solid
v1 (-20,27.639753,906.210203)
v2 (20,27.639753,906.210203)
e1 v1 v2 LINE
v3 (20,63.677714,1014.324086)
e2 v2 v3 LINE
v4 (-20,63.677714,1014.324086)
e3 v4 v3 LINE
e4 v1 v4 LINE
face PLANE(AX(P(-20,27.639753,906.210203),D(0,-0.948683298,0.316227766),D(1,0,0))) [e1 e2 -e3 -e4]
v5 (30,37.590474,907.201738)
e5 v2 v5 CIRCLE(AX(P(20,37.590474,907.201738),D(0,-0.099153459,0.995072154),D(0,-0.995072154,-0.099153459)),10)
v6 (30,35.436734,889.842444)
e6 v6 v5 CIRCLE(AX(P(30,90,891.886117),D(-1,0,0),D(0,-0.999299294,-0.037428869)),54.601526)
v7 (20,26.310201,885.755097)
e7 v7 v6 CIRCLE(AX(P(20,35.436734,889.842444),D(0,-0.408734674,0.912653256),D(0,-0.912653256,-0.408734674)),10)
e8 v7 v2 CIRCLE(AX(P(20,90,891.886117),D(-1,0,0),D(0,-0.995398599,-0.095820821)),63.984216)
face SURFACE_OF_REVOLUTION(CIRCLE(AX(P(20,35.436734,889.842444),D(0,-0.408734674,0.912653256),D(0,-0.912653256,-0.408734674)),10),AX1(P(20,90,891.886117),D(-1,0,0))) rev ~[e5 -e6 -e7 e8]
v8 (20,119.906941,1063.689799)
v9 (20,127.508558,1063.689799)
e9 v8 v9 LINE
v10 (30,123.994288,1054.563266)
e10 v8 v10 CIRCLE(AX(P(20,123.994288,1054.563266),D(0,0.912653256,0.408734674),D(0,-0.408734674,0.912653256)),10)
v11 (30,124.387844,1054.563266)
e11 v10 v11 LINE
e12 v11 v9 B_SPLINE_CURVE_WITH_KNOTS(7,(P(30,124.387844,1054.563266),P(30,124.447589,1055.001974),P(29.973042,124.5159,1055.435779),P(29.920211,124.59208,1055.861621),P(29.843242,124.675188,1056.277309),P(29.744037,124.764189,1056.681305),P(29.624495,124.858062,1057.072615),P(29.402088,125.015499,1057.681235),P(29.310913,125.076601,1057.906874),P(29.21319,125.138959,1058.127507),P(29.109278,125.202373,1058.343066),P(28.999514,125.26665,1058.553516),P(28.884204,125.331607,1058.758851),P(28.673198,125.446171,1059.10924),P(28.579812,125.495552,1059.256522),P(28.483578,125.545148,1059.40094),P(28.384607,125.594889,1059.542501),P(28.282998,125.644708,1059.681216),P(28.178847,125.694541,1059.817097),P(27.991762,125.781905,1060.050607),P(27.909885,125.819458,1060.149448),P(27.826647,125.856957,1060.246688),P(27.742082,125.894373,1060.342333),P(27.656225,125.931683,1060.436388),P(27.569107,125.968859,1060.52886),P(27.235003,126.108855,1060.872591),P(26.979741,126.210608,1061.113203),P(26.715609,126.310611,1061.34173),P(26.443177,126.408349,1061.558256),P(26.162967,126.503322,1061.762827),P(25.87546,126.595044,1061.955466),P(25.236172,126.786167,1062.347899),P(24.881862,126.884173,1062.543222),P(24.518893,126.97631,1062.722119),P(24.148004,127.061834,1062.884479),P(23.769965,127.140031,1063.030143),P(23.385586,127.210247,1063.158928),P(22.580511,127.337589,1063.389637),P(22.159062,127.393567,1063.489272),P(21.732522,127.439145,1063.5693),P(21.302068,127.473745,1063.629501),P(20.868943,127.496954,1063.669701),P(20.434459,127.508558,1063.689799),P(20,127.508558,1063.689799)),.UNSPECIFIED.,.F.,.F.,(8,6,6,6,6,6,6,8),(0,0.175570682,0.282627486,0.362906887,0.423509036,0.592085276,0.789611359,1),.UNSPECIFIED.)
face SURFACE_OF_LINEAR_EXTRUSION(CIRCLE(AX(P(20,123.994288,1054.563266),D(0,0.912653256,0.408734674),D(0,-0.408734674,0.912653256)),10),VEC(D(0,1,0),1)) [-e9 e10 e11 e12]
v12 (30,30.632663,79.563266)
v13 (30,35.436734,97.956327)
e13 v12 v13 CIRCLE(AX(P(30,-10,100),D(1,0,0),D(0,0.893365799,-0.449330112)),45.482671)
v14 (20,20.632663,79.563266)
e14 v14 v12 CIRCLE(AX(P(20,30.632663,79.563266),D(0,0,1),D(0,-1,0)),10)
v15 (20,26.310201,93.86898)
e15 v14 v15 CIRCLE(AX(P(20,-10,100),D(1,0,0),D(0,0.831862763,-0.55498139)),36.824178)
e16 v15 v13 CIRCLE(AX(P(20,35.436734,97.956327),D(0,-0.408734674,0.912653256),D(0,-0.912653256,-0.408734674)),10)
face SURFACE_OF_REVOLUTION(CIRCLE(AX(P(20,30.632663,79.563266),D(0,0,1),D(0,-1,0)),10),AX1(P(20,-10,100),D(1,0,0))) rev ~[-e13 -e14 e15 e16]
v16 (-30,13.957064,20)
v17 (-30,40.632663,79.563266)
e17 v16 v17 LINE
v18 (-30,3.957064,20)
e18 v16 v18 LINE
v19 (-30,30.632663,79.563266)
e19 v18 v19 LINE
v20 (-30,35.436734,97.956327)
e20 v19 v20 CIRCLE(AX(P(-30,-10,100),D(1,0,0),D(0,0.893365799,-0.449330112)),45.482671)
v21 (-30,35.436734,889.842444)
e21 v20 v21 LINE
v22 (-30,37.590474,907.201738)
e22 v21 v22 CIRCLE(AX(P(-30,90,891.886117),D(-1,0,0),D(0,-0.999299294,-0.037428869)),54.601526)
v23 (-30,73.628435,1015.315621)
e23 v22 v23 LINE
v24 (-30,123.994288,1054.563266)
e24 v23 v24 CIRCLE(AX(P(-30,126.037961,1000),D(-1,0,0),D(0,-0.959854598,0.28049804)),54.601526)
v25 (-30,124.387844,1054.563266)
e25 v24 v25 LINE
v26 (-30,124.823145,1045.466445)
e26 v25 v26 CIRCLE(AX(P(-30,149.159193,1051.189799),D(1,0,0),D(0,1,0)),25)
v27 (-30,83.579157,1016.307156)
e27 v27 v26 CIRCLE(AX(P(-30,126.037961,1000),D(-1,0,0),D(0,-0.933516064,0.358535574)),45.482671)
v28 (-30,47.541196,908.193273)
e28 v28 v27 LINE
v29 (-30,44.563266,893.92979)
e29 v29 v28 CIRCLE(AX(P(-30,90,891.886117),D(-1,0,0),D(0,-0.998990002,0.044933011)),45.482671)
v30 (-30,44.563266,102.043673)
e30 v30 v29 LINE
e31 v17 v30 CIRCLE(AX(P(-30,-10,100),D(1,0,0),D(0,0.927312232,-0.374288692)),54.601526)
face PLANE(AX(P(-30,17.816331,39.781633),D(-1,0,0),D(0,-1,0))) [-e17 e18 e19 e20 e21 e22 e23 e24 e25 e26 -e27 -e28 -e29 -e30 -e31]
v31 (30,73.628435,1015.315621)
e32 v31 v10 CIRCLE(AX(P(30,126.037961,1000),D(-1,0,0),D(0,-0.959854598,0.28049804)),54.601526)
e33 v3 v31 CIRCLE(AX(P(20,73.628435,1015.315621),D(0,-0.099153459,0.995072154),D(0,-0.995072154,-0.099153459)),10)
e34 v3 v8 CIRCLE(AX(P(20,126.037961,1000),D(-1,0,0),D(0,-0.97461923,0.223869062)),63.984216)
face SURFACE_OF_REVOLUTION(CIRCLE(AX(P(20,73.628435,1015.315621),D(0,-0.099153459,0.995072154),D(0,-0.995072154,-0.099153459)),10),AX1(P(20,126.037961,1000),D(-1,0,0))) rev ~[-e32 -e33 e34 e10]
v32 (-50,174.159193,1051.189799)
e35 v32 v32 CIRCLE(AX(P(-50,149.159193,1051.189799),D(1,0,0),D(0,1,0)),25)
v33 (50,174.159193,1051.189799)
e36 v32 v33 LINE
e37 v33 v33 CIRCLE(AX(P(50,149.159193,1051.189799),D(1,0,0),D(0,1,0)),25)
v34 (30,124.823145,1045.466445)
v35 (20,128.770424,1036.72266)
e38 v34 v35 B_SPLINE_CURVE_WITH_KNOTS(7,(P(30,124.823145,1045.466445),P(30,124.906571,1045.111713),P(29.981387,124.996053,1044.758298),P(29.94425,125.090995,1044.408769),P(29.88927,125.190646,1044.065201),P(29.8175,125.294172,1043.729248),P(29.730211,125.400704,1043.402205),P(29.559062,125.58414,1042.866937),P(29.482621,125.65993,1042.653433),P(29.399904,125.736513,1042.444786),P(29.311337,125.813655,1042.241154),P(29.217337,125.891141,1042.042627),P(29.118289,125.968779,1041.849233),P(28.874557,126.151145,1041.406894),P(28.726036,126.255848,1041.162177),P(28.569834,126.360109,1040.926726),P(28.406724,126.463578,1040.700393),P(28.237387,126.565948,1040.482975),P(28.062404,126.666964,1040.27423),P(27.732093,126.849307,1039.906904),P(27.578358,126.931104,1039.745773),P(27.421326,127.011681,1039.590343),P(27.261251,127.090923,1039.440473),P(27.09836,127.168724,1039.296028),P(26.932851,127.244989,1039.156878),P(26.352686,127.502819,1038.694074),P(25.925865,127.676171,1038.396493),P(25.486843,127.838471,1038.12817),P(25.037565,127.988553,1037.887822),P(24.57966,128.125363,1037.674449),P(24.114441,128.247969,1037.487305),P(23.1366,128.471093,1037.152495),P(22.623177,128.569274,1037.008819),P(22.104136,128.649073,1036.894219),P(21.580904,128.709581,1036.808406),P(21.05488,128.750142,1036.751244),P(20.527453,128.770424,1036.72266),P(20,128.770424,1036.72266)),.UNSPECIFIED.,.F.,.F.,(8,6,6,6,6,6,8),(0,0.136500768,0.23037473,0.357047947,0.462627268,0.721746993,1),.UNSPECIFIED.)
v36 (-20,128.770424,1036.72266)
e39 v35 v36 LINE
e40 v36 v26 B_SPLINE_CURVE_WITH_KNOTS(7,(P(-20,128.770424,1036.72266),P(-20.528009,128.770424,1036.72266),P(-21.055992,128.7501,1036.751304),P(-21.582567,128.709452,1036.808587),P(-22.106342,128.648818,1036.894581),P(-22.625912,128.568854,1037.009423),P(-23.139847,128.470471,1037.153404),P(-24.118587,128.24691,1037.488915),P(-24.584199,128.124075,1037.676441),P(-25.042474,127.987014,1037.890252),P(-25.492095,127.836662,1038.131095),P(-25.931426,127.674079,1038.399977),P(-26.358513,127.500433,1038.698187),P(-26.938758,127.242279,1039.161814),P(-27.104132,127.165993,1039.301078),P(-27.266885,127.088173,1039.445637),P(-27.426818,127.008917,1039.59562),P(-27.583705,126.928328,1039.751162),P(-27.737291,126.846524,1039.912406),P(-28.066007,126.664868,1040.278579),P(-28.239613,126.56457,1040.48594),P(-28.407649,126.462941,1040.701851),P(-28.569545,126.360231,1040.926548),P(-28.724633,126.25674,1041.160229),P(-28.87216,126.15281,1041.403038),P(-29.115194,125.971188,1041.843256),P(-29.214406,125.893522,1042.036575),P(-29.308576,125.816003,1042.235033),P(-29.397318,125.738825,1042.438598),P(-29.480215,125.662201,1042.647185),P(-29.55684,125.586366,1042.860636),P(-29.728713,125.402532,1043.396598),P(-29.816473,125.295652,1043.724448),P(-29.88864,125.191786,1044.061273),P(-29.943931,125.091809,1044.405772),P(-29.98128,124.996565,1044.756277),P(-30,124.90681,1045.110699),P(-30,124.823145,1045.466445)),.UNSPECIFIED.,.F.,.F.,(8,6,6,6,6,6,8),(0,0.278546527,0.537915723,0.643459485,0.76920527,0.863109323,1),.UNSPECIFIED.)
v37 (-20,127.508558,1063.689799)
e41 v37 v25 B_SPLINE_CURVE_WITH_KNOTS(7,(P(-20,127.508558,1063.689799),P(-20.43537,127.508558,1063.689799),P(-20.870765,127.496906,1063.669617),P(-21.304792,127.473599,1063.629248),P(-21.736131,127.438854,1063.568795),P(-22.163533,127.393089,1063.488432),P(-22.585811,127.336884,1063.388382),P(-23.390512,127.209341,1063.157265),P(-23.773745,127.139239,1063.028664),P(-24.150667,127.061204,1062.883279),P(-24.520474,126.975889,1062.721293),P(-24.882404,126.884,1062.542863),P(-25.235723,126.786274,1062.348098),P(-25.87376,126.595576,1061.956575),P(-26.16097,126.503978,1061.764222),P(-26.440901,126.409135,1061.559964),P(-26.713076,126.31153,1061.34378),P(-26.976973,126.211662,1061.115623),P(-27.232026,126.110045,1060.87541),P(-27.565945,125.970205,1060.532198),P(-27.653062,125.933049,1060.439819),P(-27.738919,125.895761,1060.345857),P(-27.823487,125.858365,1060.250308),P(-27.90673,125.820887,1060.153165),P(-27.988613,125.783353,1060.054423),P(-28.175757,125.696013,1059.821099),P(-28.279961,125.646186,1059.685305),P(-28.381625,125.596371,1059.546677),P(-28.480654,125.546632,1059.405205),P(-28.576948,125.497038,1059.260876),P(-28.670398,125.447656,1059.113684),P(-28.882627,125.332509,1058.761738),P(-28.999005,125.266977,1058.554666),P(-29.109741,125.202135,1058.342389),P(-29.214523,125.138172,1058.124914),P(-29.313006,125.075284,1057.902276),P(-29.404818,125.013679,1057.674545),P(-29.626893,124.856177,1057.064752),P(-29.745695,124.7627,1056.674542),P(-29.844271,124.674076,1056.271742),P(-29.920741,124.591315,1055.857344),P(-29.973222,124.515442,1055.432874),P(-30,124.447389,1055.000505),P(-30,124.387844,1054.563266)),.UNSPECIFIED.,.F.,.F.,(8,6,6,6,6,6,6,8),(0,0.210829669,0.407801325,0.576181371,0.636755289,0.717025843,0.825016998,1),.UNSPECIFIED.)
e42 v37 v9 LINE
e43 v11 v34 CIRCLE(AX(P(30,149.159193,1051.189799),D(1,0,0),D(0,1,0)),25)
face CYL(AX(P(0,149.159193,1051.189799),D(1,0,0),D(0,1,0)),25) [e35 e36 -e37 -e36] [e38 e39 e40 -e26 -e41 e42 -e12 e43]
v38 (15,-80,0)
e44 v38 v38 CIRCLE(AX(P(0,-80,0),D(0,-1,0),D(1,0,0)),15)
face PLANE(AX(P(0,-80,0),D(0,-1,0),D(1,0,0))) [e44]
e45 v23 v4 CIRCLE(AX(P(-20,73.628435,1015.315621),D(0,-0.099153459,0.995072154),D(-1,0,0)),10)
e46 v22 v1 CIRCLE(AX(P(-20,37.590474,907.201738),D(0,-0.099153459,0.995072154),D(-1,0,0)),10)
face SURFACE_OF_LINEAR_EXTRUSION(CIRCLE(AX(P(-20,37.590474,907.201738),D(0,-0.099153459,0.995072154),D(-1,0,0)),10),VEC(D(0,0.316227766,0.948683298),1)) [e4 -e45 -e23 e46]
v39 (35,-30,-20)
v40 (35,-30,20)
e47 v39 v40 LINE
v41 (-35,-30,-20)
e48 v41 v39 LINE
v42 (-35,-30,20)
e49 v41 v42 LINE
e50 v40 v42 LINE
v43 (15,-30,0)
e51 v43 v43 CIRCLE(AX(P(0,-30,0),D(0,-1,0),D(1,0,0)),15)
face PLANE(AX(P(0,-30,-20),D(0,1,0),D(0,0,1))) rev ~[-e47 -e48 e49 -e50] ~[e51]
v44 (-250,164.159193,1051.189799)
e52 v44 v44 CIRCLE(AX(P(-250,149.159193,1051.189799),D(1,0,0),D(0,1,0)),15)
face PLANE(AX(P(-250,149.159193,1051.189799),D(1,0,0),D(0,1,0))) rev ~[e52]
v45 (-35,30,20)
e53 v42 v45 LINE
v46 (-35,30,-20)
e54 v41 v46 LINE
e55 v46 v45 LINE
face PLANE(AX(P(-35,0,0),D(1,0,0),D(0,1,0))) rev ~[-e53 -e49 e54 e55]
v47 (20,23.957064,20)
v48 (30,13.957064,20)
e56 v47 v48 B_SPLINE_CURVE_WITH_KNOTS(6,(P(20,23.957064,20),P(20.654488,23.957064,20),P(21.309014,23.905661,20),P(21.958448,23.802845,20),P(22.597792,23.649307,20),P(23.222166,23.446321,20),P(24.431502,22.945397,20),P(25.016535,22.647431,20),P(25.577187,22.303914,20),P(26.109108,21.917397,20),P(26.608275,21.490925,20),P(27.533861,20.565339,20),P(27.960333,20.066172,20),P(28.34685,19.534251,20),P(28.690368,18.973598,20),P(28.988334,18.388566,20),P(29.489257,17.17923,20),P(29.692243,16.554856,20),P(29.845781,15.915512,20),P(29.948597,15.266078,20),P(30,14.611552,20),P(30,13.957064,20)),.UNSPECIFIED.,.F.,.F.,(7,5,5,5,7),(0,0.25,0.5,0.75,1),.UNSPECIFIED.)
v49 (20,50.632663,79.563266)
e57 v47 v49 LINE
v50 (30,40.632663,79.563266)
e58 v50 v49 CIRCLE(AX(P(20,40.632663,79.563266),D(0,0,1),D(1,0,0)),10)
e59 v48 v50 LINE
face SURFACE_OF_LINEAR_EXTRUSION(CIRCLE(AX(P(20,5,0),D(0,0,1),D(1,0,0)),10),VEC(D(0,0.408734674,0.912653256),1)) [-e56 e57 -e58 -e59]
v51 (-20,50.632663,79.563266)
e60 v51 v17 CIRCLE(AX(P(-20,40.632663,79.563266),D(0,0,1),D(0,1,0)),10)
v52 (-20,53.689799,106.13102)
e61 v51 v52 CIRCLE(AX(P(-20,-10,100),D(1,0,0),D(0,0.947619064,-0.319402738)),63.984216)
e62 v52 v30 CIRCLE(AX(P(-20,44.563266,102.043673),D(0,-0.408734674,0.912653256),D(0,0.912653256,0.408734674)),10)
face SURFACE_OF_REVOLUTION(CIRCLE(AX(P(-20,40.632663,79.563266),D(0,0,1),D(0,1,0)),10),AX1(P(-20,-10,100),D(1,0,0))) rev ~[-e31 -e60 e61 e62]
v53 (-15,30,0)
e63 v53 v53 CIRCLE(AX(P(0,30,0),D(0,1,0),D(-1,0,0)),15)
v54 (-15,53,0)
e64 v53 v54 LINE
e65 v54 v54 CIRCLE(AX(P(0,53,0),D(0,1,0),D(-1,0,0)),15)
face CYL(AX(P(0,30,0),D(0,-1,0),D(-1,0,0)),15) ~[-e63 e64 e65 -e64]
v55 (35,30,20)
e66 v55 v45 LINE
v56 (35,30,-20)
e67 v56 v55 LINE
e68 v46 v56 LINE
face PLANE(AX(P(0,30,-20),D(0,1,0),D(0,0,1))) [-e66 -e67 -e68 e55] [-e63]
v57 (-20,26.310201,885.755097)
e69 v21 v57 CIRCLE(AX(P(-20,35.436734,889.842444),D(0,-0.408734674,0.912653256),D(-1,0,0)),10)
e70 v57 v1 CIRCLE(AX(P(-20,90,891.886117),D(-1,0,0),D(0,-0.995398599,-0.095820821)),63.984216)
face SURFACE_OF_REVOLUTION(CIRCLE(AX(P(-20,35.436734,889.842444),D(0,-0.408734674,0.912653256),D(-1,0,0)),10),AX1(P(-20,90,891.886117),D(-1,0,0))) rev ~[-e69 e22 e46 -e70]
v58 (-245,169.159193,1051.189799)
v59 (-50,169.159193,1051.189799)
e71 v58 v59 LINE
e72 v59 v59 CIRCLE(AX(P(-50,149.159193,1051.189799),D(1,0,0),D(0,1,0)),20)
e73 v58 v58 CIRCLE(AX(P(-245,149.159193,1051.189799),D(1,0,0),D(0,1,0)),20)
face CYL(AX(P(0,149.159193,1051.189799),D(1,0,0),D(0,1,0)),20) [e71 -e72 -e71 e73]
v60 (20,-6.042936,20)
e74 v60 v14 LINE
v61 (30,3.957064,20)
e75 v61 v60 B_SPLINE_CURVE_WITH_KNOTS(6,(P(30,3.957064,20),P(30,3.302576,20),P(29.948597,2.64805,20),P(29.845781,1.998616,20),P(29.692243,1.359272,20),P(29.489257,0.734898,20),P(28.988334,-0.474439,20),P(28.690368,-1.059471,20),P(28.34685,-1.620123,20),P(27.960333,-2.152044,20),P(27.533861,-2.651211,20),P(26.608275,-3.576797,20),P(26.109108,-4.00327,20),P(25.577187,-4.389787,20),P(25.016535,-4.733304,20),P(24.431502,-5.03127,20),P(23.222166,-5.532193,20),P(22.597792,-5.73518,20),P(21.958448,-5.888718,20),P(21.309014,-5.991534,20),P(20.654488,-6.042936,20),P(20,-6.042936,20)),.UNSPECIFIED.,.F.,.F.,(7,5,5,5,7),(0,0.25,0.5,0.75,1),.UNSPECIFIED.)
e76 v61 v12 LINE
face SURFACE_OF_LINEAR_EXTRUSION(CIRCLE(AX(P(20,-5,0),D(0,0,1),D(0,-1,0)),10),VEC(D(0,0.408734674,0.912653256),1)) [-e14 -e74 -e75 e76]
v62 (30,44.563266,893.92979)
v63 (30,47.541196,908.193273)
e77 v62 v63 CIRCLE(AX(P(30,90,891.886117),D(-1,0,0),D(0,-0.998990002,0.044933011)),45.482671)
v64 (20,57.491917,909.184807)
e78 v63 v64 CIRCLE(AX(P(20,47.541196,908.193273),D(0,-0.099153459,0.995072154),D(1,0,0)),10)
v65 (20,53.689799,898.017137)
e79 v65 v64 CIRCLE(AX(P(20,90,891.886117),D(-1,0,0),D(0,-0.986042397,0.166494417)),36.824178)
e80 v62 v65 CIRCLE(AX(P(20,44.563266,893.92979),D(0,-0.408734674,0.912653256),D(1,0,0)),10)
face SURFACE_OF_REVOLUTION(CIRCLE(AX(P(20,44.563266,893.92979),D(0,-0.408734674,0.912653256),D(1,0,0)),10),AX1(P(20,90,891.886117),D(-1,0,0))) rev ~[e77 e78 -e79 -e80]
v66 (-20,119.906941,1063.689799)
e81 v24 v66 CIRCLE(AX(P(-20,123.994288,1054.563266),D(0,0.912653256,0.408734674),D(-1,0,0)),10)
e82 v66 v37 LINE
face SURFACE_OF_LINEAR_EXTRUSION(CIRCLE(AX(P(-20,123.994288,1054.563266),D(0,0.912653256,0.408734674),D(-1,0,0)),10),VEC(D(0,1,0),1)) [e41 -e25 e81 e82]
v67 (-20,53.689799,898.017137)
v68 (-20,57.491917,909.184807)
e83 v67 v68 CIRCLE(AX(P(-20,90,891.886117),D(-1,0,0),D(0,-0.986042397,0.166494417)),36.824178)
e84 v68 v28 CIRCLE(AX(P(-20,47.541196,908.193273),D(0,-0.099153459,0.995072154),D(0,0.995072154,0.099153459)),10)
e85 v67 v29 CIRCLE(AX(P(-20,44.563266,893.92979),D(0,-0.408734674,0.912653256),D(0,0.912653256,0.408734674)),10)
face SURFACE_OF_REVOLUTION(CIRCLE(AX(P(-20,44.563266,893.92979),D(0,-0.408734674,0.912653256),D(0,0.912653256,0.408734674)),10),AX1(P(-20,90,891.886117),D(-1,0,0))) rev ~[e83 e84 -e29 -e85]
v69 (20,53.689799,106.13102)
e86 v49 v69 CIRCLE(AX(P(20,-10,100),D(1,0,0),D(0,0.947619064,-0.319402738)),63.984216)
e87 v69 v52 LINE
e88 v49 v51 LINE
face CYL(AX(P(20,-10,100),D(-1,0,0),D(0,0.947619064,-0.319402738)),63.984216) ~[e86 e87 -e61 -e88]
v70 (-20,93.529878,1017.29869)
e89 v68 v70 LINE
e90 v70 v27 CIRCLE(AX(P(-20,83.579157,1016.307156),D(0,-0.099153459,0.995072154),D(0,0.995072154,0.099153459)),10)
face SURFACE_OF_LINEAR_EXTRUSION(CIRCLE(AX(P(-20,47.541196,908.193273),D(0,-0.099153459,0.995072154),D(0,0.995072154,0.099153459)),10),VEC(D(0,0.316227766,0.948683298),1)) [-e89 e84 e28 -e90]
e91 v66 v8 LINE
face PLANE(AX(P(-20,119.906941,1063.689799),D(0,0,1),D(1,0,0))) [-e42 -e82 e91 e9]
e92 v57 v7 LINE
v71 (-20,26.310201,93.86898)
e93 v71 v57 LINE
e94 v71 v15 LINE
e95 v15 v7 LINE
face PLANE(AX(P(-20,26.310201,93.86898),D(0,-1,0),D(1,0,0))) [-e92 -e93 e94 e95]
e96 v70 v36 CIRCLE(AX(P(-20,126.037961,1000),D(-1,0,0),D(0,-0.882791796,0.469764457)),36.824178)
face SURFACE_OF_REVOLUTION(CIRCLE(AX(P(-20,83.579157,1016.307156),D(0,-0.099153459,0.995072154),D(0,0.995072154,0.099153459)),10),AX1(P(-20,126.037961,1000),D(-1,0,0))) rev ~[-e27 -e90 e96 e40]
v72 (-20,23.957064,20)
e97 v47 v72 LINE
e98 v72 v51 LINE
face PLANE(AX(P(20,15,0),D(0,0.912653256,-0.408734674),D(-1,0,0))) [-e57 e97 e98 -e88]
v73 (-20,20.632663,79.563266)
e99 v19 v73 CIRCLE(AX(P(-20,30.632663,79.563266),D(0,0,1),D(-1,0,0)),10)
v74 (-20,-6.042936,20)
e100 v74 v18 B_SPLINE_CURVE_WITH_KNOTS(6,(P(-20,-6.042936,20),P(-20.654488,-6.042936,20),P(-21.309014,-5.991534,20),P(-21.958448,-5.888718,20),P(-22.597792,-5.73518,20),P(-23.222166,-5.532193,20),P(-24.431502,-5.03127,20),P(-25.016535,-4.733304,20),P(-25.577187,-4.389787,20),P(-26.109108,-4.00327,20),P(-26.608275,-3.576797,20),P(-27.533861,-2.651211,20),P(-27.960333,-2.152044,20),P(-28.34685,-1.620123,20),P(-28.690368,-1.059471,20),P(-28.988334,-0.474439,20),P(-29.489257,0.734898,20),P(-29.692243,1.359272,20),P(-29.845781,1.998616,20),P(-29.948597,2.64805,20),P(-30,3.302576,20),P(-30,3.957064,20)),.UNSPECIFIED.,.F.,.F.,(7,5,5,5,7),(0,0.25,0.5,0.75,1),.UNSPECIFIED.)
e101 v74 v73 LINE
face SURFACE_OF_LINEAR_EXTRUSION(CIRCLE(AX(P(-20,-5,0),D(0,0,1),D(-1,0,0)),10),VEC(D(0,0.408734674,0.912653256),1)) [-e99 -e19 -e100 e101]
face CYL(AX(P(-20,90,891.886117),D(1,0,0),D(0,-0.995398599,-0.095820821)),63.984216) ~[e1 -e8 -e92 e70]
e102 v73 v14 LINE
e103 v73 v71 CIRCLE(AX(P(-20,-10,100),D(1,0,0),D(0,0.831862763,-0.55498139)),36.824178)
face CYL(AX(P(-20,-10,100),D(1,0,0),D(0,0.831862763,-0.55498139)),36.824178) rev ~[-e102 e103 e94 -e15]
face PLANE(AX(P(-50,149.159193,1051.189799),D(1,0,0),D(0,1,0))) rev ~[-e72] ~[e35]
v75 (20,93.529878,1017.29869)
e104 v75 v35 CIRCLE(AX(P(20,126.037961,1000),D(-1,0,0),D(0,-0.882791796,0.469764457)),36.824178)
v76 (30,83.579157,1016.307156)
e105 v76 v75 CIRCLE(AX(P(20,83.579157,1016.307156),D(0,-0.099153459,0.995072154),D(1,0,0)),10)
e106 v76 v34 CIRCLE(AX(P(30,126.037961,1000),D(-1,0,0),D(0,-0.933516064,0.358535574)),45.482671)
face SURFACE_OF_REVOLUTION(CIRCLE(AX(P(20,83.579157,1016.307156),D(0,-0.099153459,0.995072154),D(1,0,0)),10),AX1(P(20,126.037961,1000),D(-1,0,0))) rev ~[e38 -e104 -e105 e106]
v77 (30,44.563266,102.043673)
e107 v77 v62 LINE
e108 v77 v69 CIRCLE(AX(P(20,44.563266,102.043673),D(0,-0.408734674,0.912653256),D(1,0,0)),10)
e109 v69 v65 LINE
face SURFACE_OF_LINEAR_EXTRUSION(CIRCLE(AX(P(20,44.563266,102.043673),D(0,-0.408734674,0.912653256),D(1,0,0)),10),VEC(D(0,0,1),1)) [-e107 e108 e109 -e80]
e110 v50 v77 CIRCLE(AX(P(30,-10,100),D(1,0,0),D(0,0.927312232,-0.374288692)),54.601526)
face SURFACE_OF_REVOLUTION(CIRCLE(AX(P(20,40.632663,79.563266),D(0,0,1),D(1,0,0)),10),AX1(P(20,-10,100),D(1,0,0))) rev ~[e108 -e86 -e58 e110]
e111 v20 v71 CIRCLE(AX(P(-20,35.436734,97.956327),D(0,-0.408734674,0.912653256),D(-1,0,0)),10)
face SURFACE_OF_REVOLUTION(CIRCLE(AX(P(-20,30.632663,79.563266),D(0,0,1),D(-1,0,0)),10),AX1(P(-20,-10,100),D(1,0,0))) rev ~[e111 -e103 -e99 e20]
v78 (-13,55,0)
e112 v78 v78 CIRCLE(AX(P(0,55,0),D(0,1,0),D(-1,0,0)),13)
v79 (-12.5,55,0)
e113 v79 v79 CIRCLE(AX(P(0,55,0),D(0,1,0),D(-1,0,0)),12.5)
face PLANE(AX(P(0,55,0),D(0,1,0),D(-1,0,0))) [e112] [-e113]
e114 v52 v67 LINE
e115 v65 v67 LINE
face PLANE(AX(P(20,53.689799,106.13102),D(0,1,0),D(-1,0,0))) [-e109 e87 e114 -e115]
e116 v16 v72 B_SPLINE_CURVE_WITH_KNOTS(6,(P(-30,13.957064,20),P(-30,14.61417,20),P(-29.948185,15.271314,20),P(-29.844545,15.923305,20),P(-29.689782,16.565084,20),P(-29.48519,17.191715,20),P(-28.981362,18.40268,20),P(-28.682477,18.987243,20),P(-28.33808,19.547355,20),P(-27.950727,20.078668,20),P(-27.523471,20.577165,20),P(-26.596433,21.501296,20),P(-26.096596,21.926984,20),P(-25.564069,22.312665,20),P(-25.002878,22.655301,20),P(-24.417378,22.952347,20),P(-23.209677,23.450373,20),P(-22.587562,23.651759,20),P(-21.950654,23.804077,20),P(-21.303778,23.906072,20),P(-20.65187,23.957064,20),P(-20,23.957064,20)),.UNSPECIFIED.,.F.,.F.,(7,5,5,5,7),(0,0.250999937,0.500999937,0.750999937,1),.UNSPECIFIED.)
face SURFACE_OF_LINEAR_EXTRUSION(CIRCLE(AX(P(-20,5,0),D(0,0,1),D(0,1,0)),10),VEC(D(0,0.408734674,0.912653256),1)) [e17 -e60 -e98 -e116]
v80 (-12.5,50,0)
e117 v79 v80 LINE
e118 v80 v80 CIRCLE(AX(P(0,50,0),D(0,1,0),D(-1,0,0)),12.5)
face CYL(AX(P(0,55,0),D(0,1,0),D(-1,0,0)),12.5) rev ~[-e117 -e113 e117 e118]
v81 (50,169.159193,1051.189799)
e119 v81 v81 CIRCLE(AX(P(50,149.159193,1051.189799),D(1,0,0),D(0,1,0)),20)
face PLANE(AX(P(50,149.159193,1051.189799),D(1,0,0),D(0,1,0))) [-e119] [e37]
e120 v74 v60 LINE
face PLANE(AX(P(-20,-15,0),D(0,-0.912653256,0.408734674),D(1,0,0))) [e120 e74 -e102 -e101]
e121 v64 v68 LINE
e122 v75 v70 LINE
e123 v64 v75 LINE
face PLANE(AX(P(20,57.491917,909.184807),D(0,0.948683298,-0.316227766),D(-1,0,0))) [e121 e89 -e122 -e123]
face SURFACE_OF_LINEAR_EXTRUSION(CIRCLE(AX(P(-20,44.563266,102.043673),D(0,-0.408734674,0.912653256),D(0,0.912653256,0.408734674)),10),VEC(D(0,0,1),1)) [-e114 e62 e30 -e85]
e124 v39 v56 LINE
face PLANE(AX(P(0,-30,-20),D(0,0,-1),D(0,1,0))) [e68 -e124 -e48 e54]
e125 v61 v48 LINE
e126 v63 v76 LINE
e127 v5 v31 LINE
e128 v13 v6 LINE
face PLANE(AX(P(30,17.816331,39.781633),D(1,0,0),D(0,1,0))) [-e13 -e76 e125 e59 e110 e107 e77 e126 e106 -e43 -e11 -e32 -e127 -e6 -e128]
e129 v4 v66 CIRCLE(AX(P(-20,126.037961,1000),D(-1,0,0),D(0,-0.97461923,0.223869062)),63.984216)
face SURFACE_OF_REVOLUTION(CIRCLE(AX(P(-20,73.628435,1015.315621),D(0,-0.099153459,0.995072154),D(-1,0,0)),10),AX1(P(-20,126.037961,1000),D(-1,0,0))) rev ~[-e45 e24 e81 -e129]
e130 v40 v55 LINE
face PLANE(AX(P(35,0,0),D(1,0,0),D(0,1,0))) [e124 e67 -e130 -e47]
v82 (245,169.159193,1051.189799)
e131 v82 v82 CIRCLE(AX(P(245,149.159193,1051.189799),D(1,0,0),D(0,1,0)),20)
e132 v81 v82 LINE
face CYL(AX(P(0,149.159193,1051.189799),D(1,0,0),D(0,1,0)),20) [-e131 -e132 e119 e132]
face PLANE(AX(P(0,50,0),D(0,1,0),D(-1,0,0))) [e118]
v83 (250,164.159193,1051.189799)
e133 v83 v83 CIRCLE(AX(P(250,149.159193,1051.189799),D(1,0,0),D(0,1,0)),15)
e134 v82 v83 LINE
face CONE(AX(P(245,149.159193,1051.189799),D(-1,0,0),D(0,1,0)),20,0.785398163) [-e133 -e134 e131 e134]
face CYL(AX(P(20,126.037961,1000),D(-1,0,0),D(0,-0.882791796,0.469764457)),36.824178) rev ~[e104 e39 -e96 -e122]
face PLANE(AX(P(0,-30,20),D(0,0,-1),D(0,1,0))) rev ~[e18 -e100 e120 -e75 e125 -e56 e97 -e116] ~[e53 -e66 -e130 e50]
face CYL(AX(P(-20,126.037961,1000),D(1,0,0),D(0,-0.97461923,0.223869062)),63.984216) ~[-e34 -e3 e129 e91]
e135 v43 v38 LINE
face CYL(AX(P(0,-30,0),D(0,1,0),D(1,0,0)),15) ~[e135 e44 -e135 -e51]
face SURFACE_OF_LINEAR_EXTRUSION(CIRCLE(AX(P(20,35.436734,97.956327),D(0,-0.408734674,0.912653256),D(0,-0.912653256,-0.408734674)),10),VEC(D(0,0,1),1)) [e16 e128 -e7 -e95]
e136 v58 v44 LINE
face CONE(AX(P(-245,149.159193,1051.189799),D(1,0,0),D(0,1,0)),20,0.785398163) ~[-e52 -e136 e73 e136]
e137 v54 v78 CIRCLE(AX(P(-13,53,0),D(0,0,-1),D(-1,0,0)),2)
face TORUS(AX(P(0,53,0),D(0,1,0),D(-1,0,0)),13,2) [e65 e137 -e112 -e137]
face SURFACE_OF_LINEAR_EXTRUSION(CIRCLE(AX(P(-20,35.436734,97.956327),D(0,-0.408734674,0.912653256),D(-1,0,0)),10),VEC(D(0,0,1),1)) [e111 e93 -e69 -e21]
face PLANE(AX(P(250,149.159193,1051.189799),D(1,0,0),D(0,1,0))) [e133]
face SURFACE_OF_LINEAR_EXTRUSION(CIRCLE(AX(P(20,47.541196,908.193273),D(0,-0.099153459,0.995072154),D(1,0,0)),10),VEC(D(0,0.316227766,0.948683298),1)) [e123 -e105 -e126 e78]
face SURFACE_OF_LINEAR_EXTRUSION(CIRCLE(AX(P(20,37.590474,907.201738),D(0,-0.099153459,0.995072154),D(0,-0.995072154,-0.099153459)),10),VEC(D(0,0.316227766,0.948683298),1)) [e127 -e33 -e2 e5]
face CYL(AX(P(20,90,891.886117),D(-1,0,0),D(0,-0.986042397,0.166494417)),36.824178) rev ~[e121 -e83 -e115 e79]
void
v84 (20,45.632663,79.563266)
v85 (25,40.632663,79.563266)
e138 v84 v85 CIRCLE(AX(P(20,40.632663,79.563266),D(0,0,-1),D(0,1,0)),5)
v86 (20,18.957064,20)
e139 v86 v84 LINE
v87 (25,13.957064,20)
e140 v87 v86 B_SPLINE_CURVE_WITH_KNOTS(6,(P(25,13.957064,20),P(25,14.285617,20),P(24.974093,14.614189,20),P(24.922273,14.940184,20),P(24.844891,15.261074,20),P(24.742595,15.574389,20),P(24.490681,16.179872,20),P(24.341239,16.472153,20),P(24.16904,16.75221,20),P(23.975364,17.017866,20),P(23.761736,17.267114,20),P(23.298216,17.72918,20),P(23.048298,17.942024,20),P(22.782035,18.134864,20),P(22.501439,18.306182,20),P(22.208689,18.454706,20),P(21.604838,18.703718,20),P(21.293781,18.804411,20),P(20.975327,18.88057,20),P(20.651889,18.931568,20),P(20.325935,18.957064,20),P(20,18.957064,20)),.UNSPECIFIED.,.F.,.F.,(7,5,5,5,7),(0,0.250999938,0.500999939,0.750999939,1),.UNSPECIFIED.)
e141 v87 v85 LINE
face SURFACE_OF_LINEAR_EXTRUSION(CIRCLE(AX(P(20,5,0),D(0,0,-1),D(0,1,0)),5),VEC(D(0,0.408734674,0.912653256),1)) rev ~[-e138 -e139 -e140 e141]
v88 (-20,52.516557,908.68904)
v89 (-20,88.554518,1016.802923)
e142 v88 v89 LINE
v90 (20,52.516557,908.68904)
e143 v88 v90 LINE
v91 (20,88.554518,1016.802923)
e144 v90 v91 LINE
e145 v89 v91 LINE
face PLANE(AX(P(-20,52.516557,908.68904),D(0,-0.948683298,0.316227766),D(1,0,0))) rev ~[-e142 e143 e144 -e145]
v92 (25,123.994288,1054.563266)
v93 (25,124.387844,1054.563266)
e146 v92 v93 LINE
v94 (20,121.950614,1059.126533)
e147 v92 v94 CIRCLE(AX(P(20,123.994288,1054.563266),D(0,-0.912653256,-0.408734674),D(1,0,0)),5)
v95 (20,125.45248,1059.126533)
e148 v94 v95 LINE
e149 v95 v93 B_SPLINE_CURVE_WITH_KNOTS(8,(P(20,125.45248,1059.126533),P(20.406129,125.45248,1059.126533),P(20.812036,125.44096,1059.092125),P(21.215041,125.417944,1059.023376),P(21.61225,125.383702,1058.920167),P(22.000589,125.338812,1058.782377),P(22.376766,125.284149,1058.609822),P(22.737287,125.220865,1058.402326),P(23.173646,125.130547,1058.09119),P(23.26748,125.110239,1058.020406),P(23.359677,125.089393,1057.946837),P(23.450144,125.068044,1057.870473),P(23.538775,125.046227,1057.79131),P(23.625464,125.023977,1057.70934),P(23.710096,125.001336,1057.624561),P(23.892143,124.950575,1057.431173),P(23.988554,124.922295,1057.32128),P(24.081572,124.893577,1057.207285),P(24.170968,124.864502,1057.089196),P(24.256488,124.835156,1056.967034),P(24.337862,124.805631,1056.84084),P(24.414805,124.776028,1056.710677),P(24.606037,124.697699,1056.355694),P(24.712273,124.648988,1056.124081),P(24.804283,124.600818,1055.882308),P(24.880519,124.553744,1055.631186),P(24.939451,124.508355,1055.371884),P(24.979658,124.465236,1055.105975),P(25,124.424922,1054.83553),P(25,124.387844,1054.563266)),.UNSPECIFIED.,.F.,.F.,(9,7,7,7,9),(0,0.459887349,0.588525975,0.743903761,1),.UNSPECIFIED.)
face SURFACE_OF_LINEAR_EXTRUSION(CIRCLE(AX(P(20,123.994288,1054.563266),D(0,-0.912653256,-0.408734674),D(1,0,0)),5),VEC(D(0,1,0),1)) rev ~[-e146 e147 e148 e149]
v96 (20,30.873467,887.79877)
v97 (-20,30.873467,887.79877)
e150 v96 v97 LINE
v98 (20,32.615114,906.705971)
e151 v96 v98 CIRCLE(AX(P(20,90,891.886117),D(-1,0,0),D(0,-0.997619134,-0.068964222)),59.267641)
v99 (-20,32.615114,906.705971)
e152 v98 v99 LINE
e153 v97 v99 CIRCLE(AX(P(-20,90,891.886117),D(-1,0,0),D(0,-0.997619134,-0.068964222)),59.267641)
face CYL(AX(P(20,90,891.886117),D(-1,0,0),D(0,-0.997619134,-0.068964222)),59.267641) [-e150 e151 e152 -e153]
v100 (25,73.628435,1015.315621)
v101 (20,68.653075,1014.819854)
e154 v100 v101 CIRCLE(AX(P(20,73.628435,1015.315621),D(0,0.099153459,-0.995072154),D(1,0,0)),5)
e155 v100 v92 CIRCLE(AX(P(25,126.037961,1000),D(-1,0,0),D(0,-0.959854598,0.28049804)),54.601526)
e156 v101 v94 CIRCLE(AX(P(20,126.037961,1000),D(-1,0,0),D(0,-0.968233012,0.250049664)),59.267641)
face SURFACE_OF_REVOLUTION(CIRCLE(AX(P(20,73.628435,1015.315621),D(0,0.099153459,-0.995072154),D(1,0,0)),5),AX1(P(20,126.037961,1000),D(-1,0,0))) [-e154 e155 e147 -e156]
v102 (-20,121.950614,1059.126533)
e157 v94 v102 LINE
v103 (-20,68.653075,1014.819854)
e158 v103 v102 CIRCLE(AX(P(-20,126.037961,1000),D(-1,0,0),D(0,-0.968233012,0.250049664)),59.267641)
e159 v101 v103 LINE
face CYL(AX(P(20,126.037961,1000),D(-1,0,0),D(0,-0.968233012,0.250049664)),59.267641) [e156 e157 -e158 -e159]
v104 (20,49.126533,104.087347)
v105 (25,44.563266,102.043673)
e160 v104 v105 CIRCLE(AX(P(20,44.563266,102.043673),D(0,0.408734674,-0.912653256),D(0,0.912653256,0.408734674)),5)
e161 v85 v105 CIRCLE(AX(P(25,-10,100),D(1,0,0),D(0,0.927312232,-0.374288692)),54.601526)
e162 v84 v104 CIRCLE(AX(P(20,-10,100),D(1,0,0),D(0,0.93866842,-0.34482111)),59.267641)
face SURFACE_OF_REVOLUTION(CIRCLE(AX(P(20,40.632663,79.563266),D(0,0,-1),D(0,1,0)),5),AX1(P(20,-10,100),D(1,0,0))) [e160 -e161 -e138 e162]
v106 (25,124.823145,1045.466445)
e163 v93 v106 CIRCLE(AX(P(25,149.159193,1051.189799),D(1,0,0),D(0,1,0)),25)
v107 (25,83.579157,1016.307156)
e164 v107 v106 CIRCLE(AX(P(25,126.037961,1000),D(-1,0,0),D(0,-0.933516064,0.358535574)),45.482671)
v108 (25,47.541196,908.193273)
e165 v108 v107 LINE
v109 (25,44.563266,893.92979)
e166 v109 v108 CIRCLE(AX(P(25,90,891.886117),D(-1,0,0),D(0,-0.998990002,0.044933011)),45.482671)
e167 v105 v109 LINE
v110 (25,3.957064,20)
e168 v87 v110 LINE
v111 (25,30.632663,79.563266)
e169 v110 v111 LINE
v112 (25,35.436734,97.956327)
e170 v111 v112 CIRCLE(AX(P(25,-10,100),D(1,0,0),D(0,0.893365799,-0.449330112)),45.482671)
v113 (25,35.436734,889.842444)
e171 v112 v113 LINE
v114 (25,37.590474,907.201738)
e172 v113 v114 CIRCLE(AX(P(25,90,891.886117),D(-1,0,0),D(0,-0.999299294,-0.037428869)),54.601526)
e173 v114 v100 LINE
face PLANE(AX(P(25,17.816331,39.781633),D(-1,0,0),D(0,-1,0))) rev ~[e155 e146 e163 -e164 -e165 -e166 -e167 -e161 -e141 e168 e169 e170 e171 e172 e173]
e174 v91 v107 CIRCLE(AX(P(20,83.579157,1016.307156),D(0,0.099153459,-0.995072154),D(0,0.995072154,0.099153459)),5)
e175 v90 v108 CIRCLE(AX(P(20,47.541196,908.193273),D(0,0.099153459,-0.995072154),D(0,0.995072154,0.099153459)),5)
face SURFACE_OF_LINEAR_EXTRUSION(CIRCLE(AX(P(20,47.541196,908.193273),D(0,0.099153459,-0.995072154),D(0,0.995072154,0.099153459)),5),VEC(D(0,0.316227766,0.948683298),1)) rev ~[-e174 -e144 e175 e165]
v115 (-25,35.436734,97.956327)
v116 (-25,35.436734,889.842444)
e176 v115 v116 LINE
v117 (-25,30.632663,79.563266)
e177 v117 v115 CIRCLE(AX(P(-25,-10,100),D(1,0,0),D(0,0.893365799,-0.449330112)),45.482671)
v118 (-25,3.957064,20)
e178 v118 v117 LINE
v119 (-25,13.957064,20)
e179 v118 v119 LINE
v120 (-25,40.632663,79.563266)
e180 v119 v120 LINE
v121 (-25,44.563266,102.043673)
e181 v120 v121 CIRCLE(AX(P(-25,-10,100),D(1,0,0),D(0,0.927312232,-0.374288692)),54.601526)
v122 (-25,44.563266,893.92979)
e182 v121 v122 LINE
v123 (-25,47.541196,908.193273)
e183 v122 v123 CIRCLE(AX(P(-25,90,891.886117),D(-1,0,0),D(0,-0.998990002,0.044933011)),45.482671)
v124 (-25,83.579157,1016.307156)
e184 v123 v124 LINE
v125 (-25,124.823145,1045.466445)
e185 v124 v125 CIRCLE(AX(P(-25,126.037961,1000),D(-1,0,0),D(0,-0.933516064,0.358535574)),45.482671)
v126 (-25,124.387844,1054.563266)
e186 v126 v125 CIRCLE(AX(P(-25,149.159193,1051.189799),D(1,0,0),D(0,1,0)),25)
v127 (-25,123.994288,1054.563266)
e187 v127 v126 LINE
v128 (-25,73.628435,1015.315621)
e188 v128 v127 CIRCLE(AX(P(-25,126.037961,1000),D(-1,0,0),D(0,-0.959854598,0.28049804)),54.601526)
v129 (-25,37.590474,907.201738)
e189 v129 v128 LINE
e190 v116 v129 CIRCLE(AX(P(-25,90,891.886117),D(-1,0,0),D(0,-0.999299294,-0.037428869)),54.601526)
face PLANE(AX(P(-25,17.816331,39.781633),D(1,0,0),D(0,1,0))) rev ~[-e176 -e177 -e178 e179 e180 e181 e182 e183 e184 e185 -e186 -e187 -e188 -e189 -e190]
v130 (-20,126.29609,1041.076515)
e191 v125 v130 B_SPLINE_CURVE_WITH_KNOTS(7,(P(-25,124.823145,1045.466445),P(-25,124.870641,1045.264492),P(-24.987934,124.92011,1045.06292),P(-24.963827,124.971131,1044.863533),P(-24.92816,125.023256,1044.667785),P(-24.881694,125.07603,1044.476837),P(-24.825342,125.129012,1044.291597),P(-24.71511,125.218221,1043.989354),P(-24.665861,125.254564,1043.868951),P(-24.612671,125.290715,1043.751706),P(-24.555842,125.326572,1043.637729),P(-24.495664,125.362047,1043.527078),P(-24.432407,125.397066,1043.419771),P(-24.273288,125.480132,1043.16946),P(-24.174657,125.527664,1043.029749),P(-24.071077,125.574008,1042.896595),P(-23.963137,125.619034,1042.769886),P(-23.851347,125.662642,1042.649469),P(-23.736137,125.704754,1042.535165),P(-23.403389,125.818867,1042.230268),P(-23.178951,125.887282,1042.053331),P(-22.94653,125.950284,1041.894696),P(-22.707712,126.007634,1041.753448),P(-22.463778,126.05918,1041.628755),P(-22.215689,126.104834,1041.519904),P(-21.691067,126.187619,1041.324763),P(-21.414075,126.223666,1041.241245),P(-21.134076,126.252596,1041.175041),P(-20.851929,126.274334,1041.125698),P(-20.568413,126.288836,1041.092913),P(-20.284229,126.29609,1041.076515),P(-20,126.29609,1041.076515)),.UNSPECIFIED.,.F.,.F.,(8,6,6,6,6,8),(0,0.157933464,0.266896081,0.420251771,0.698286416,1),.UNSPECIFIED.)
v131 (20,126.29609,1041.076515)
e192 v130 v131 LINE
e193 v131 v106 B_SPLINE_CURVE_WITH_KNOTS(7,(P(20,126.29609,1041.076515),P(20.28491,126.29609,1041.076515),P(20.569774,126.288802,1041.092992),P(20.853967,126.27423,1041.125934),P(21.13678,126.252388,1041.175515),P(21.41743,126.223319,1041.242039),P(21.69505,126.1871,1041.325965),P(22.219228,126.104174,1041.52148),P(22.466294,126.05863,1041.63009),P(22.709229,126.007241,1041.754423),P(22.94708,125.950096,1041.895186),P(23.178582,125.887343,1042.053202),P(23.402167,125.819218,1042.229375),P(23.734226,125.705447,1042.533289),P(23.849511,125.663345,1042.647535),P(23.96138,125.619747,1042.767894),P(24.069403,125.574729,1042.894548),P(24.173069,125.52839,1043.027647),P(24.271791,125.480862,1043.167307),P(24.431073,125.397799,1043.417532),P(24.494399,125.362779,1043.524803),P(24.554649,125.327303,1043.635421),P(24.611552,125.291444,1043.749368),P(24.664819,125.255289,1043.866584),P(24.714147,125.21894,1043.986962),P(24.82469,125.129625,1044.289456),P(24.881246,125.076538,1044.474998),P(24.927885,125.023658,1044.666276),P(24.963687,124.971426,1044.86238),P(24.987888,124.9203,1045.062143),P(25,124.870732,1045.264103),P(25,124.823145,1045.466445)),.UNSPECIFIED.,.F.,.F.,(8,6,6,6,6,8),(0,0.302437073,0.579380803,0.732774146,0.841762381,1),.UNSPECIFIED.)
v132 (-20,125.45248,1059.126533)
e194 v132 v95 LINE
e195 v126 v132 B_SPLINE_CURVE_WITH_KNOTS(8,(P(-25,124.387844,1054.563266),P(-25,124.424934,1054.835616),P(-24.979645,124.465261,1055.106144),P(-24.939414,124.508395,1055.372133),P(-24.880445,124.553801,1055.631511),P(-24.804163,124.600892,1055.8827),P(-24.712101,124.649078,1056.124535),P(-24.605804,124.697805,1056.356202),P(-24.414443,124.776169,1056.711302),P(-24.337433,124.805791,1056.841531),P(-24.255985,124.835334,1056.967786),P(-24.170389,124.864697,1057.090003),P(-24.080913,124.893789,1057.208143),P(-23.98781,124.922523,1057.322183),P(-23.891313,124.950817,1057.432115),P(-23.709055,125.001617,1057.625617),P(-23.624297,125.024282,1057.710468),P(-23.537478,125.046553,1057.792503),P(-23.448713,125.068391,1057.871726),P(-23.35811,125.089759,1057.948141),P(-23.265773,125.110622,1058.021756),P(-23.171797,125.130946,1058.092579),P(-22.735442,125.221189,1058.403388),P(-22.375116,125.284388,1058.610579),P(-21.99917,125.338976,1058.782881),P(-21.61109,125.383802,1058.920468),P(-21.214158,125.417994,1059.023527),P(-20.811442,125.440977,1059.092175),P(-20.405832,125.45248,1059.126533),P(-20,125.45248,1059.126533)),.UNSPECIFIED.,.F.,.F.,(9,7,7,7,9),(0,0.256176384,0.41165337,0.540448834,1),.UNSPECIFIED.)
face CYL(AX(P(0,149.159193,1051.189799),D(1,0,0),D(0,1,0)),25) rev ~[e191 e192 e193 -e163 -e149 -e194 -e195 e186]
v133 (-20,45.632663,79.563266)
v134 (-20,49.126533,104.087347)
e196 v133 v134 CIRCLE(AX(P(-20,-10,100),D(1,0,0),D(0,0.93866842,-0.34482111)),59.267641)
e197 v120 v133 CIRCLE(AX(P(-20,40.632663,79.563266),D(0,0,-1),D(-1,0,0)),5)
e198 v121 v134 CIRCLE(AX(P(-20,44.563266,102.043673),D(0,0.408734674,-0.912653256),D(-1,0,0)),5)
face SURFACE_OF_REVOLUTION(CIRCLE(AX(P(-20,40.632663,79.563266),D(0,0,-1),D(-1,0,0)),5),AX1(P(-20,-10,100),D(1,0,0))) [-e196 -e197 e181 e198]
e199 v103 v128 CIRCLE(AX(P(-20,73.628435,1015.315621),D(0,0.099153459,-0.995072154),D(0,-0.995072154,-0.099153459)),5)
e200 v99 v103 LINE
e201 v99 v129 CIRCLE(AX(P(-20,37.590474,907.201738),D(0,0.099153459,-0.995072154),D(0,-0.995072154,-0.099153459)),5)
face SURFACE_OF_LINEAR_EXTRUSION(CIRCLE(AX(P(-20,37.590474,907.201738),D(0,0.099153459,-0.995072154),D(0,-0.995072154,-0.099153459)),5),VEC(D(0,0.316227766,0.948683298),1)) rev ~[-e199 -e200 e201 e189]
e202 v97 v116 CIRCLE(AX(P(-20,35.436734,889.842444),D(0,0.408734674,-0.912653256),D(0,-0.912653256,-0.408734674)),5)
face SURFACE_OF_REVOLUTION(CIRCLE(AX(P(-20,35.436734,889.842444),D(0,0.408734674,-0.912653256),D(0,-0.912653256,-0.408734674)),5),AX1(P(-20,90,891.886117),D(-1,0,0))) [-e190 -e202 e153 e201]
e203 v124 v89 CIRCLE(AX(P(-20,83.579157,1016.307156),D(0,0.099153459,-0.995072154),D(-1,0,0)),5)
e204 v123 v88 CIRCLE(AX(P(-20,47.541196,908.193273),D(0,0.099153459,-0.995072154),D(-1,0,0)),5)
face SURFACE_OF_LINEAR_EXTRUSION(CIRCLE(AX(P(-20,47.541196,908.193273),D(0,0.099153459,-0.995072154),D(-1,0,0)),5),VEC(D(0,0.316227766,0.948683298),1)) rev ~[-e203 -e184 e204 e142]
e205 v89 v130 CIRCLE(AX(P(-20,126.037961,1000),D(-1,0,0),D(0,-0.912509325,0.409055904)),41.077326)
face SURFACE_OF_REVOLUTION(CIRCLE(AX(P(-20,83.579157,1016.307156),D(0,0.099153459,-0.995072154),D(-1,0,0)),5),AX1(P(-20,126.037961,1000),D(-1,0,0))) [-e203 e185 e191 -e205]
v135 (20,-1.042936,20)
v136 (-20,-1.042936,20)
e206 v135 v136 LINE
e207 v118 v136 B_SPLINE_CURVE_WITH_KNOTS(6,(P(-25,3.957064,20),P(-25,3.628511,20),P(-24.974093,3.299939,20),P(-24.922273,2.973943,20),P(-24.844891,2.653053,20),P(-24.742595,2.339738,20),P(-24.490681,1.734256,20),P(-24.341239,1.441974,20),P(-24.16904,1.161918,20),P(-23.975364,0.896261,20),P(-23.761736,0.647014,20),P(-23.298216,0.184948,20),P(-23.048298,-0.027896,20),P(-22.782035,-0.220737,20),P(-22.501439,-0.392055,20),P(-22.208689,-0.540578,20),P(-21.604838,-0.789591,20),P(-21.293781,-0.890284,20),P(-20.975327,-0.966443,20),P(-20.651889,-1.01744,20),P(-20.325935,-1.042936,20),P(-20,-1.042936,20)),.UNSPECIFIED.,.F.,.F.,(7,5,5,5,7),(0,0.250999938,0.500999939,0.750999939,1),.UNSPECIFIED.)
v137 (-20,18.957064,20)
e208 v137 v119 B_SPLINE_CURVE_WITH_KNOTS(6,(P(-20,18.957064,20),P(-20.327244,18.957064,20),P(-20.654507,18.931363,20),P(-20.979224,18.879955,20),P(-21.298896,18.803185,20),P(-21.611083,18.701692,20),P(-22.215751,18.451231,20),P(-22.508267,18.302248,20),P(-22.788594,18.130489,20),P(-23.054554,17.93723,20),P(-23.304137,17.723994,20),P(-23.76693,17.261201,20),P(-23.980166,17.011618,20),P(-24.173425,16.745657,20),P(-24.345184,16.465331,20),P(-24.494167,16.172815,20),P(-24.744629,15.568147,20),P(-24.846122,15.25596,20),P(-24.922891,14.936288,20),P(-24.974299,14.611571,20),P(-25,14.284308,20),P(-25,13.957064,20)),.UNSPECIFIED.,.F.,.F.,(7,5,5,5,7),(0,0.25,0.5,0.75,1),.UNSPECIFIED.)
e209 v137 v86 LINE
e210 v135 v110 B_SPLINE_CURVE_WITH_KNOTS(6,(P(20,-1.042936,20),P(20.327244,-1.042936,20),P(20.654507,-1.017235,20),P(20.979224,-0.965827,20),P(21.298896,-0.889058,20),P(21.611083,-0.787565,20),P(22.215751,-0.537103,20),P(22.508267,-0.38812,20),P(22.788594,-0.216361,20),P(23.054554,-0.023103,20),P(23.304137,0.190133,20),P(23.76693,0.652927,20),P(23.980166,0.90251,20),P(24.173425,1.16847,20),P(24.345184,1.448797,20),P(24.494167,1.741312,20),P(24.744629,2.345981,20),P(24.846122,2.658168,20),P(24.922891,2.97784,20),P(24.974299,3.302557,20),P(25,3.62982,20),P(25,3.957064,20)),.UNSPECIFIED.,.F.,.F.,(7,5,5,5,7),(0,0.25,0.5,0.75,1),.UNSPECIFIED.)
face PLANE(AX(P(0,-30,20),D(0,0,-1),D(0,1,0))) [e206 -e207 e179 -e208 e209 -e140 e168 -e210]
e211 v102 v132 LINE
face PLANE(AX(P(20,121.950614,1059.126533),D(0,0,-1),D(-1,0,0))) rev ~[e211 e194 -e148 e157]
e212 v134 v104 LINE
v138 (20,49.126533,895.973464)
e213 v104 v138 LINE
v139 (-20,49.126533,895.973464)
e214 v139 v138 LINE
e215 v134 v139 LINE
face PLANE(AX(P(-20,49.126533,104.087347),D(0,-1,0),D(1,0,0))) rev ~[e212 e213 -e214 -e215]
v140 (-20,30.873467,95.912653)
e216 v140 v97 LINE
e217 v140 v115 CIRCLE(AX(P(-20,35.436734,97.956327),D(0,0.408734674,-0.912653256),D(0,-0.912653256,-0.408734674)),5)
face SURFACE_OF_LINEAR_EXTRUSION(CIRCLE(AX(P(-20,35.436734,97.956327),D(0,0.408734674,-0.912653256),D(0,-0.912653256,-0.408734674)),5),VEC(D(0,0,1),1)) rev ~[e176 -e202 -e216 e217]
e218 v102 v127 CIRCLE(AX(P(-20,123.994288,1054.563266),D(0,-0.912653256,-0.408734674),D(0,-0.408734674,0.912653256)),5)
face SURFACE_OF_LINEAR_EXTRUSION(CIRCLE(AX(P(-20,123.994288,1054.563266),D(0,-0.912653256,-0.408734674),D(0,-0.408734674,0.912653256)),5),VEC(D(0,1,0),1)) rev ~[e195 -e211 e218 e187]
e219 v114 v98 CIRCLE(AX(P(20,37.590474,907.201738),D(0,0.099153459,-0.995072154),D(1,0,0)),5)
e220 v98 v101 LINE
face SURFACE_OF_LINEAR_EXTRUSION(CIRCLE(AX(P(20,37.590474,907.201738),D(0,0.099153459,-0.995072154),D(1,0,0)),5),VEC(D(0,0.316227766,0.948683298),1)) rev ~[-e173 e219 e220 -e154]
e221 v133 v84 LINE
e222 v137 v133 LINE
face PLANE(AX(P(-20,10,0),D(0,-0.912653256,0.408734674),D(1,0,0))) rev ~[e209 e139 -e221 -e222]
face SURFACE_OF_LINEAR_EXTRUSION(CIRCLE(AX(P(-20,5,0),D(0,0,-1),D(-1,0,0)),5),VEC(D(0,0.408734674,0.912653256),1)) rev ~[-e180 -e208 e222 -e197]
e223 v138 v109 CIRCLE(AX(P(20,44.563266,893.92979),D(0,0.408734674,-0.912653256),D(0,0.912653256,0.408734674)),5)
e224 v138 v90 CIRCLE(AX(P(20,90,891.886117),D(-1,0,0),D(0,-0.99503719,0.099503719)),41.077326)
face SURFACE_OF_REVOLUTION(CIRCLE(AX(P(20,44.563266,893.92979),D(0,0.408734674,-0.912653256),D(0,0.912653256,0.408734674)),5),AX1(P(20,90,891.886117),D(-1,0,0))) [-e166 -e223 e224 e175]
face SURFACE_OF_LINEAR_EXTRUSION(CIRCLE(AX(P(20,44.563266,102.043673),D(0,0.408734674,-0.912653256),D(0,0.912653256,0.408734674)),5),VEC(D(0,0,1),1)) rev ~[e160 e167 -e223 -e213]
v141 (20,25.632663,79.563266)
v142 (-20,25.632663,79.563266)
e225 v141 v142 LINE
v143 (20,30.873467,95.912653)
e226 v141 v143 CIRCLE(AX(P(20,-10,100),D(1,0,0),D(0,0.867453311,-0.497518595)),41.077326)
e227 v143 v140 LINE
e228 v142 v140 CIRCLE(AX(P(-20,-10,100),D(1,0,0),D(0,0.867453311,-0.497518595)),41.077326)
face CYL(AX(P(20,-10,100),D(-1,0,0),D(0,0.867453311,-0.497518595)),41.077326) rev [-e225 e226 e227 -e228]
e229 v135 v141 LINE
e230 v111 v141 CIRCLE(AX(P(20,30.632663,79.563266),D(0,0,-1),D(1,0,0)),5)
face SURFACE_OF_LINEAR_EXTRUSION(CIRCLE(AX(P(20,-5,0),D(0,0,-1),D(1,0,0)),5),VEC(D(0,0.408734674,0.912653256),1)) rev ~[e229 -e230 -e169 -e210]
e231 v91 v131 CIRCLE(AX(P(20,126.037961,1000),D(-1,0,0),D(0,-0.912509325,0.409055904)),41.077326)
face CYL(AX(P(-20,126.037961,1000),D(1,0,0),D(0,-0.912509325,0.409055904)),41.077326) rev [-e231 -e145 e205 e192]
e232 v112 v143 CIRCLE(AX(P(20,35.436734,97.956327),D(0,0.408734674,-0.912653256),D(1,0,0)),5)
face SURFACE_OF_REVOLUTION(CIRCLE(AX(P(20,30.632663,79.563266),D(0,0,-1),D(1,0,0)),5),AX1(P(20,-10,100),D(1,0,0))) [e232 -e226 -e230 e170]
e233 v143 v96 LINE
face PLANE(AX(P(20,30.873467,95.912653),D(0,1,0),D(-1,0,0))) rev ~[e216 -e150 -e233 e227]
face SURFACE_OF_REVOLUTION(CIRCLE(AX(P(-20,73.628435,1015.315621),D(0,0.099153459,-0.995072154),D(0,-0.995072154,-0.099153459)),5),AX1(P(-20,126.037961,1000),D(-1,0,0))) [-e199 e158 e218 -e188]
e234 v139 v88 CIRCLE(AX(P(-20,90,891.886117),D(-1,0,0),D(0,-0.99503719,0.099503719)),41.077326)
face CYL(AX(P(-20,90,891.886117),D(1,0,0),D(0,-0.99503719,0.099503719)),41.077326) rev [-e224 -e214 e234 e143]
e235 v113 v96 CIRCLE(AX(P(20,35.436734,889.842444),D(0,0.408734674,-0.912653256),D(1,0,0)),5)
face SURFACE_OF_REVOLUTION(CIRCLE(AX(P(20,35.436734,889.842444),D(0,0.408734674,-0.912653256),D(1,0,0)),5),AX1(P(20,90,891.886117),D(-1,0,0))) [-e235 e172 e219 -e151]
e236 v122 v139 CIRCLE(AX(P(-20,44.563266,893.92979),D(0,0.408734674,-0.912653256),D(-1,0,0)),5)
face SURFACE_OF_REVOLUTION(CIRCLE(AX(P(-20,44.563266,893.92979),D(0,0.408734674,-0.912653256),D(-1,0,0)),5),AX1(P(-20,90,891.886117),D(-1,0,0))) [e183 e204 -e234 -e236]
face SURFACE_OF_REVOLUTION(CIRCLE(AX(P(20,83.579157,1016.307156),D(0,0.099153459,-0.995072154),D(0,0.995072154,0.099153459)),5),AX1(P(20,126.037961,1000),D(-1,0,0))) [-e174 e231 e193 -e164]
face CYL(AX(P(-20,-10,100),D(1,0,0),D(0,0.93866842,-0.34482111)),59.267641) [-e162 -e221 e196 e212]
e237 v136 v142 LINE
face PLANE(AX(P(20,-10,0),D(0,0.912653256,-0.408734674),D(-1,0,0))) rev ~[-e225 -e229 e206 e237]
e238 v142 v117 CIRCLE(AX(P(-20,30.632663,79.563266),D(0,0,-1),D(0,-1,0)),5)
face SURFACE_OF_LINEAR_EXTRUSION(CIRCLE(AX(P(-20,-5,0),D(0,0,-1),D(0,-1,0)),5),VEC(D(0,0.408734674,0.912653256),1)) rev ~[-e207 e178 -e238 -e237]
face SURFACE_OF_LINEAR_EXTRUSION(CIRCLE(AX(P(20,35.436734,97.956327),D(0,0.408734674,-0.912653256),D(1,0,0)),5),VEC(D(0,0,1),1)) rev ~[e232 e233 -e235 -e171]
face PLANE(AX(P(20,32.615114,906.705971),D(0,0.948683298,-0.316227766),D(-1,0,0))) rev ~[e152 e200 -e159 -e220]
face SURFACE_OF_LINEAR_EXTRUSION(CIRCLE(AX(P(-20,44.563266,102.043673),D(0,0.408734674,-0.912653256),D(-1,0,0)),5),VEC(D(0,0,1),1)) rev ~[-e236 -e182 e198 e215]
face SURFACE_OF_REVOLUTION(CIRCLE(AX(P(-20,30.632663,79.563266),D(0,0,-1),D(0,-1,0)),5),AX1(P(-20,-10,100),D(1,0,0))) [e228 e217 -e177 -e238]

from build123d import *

# Parameters (mm, degrees)
F3_R      = 25
F4_DEPTH  = 50
F5_R      = 20
F6_DEPTH  = 250
F7_SIZE   = 5
F8_W      = 60
F8_H      = 40
F9_DEPTH  = 35
F10_R     = 15
F11_DEPTH = 25
F12_R     = 15
F13_DEPTH = 50
F14_R     = 12.5
F15_DEPTH = 5
F16_R     = 2


with BuildPart() as f2:
    # F2: sweep along a path in F1
    with BuildLine(Plane.YZ) as f2_path:
        Line((0, 0), (35.6326628073, 79.5632662807))
        ThreePointArc((35.6326628073, 79.5632662807), (38.8959770348, 89.5509124888), (40, 100))
        Line((40, 100), (40, 500))
        Line((40, 500), (40, 891.8861169916))
        ThreePointArc((40, 891.8861169916), (40.6456271181, 899.8952291419), (42.5658350975, 907.6975052924))
        Line((42.5658350975, 907.6975052924), (78.6037961003, 1015.8113883008))
        ThreePointArc((78.6037961003, 1015.8113883008), (96.8024467696, 1040.5621092588), (126.0379610028, 1050))
        Line((126.0379610028, 1050), (150, 1050))
    # F0 (on Top) → F2 (sweep)
    with BuildSketch(Plane.XY):
        with BuildLine():
            Line((-20, -15), (20, -15))
            ThreePointArc((20, -15), (27.0710678119, -12.0710678119), (30, -5))
            Line((30, -5), (30, 5))
            ThreePointArc((30, 5), (27.0710678119, 12.0710678119), (20, 15))
            Line((20, 15), (-20, 15))
            ThreePointArc((-20, 15), (-27.0710678119, 12.0710678119), (-30, 5))
            Line((-30, 5), (-30, -5))
            ThreePointArc((-30, -5), (-27.0710678119, -12.0710678119), (-20, -15))
        make_face()
        with BuildLine():
            Line((-20, 10), (20, 10))
            ThreePointArc((20, 10), (23.5355339059, 8.5355339059), (25, 5))
            Line((25, 5), (25, -5))
            ThreePointArc((25, -5), (23.5355339059, -8.5355339059), (20, -10))
            Line((20, -10), (-20, -10))
            ThreePointArc((-20, -10), (-23.5355339059, -8.5355339059), (-25, -5))
            Line((-25, -5), (-25, 5))
            ThreePointArc((-25, 5), (-23.5355339059, 8.5355339059), (-20, 10))
        make_face(mode=Mode.SUBTRACT)
    sweep(path=f2_path.line)

    # F3 (on Right) → F4 (join, symmetric)
    with BuildSketch(Plane.YZ):
        with Locations((149.1591930389, 1051.1897988422)):
            Circle(F3_R)
    extrude(amount=F4_DEPTH, both=True)

    # F5 (on Right) → F6 (join, symmetric)
    with BuildSketch(Plane.YZ):
        with Locations((149.1591930389, 1051.1897988422)):
            Circle(F5_R)
    extrude(amount=F6_DEPTH, both=True)

    # F7
    f7_edges = [f2.edges().sort_by_distance(p)[0] for p in [
        (-250, 129.159193, 1051.189799),
        (250, 129.159193, 1051.189799),
    ]]
    chamfer(f7_edges, length=F7_SIZE)

    # F8 (on Right) → F9 (join, symmetric)
    with BuildSketch(Plane.YZ):
        Rectangle(F8_W, F8_H)
    extrude(amount=F9_DEPTH, both=True)

    # F10 (on face) → F11 (join)
    with BuildSketch(Plane(origin=(0, 30, 0), x_dir=(-1, 0, 0), z_dir=(0, 1, 0))):
        Circle(F10_R)
    extrude(amount=F11_DEPTH)

    # F12 (on face) → F13 (join)
    with BuildSketch(Plane.XZ.offset(30)):
        Circle(F12_R)
    extrude(amount=F13_DEPTH)

    # F14 (on face) → F15 (cut)
    with BuildSketch(Plane(origin=(0, 55, 0), x_dir=(-1, 0, 0), z_dir=(0, 1, 0))):
        Circle(F14_R)
    extrude(amount=-F15_DEPTH, mode=Mode.SUBTRACT)

    # F16
    f16_edges = [f2.edges().sort_by_distance(p)[0] for p in [
        (15, 55, 0),
    ]]
    fillet(f16_edges, radius=F16_R)


solid = f2.part
